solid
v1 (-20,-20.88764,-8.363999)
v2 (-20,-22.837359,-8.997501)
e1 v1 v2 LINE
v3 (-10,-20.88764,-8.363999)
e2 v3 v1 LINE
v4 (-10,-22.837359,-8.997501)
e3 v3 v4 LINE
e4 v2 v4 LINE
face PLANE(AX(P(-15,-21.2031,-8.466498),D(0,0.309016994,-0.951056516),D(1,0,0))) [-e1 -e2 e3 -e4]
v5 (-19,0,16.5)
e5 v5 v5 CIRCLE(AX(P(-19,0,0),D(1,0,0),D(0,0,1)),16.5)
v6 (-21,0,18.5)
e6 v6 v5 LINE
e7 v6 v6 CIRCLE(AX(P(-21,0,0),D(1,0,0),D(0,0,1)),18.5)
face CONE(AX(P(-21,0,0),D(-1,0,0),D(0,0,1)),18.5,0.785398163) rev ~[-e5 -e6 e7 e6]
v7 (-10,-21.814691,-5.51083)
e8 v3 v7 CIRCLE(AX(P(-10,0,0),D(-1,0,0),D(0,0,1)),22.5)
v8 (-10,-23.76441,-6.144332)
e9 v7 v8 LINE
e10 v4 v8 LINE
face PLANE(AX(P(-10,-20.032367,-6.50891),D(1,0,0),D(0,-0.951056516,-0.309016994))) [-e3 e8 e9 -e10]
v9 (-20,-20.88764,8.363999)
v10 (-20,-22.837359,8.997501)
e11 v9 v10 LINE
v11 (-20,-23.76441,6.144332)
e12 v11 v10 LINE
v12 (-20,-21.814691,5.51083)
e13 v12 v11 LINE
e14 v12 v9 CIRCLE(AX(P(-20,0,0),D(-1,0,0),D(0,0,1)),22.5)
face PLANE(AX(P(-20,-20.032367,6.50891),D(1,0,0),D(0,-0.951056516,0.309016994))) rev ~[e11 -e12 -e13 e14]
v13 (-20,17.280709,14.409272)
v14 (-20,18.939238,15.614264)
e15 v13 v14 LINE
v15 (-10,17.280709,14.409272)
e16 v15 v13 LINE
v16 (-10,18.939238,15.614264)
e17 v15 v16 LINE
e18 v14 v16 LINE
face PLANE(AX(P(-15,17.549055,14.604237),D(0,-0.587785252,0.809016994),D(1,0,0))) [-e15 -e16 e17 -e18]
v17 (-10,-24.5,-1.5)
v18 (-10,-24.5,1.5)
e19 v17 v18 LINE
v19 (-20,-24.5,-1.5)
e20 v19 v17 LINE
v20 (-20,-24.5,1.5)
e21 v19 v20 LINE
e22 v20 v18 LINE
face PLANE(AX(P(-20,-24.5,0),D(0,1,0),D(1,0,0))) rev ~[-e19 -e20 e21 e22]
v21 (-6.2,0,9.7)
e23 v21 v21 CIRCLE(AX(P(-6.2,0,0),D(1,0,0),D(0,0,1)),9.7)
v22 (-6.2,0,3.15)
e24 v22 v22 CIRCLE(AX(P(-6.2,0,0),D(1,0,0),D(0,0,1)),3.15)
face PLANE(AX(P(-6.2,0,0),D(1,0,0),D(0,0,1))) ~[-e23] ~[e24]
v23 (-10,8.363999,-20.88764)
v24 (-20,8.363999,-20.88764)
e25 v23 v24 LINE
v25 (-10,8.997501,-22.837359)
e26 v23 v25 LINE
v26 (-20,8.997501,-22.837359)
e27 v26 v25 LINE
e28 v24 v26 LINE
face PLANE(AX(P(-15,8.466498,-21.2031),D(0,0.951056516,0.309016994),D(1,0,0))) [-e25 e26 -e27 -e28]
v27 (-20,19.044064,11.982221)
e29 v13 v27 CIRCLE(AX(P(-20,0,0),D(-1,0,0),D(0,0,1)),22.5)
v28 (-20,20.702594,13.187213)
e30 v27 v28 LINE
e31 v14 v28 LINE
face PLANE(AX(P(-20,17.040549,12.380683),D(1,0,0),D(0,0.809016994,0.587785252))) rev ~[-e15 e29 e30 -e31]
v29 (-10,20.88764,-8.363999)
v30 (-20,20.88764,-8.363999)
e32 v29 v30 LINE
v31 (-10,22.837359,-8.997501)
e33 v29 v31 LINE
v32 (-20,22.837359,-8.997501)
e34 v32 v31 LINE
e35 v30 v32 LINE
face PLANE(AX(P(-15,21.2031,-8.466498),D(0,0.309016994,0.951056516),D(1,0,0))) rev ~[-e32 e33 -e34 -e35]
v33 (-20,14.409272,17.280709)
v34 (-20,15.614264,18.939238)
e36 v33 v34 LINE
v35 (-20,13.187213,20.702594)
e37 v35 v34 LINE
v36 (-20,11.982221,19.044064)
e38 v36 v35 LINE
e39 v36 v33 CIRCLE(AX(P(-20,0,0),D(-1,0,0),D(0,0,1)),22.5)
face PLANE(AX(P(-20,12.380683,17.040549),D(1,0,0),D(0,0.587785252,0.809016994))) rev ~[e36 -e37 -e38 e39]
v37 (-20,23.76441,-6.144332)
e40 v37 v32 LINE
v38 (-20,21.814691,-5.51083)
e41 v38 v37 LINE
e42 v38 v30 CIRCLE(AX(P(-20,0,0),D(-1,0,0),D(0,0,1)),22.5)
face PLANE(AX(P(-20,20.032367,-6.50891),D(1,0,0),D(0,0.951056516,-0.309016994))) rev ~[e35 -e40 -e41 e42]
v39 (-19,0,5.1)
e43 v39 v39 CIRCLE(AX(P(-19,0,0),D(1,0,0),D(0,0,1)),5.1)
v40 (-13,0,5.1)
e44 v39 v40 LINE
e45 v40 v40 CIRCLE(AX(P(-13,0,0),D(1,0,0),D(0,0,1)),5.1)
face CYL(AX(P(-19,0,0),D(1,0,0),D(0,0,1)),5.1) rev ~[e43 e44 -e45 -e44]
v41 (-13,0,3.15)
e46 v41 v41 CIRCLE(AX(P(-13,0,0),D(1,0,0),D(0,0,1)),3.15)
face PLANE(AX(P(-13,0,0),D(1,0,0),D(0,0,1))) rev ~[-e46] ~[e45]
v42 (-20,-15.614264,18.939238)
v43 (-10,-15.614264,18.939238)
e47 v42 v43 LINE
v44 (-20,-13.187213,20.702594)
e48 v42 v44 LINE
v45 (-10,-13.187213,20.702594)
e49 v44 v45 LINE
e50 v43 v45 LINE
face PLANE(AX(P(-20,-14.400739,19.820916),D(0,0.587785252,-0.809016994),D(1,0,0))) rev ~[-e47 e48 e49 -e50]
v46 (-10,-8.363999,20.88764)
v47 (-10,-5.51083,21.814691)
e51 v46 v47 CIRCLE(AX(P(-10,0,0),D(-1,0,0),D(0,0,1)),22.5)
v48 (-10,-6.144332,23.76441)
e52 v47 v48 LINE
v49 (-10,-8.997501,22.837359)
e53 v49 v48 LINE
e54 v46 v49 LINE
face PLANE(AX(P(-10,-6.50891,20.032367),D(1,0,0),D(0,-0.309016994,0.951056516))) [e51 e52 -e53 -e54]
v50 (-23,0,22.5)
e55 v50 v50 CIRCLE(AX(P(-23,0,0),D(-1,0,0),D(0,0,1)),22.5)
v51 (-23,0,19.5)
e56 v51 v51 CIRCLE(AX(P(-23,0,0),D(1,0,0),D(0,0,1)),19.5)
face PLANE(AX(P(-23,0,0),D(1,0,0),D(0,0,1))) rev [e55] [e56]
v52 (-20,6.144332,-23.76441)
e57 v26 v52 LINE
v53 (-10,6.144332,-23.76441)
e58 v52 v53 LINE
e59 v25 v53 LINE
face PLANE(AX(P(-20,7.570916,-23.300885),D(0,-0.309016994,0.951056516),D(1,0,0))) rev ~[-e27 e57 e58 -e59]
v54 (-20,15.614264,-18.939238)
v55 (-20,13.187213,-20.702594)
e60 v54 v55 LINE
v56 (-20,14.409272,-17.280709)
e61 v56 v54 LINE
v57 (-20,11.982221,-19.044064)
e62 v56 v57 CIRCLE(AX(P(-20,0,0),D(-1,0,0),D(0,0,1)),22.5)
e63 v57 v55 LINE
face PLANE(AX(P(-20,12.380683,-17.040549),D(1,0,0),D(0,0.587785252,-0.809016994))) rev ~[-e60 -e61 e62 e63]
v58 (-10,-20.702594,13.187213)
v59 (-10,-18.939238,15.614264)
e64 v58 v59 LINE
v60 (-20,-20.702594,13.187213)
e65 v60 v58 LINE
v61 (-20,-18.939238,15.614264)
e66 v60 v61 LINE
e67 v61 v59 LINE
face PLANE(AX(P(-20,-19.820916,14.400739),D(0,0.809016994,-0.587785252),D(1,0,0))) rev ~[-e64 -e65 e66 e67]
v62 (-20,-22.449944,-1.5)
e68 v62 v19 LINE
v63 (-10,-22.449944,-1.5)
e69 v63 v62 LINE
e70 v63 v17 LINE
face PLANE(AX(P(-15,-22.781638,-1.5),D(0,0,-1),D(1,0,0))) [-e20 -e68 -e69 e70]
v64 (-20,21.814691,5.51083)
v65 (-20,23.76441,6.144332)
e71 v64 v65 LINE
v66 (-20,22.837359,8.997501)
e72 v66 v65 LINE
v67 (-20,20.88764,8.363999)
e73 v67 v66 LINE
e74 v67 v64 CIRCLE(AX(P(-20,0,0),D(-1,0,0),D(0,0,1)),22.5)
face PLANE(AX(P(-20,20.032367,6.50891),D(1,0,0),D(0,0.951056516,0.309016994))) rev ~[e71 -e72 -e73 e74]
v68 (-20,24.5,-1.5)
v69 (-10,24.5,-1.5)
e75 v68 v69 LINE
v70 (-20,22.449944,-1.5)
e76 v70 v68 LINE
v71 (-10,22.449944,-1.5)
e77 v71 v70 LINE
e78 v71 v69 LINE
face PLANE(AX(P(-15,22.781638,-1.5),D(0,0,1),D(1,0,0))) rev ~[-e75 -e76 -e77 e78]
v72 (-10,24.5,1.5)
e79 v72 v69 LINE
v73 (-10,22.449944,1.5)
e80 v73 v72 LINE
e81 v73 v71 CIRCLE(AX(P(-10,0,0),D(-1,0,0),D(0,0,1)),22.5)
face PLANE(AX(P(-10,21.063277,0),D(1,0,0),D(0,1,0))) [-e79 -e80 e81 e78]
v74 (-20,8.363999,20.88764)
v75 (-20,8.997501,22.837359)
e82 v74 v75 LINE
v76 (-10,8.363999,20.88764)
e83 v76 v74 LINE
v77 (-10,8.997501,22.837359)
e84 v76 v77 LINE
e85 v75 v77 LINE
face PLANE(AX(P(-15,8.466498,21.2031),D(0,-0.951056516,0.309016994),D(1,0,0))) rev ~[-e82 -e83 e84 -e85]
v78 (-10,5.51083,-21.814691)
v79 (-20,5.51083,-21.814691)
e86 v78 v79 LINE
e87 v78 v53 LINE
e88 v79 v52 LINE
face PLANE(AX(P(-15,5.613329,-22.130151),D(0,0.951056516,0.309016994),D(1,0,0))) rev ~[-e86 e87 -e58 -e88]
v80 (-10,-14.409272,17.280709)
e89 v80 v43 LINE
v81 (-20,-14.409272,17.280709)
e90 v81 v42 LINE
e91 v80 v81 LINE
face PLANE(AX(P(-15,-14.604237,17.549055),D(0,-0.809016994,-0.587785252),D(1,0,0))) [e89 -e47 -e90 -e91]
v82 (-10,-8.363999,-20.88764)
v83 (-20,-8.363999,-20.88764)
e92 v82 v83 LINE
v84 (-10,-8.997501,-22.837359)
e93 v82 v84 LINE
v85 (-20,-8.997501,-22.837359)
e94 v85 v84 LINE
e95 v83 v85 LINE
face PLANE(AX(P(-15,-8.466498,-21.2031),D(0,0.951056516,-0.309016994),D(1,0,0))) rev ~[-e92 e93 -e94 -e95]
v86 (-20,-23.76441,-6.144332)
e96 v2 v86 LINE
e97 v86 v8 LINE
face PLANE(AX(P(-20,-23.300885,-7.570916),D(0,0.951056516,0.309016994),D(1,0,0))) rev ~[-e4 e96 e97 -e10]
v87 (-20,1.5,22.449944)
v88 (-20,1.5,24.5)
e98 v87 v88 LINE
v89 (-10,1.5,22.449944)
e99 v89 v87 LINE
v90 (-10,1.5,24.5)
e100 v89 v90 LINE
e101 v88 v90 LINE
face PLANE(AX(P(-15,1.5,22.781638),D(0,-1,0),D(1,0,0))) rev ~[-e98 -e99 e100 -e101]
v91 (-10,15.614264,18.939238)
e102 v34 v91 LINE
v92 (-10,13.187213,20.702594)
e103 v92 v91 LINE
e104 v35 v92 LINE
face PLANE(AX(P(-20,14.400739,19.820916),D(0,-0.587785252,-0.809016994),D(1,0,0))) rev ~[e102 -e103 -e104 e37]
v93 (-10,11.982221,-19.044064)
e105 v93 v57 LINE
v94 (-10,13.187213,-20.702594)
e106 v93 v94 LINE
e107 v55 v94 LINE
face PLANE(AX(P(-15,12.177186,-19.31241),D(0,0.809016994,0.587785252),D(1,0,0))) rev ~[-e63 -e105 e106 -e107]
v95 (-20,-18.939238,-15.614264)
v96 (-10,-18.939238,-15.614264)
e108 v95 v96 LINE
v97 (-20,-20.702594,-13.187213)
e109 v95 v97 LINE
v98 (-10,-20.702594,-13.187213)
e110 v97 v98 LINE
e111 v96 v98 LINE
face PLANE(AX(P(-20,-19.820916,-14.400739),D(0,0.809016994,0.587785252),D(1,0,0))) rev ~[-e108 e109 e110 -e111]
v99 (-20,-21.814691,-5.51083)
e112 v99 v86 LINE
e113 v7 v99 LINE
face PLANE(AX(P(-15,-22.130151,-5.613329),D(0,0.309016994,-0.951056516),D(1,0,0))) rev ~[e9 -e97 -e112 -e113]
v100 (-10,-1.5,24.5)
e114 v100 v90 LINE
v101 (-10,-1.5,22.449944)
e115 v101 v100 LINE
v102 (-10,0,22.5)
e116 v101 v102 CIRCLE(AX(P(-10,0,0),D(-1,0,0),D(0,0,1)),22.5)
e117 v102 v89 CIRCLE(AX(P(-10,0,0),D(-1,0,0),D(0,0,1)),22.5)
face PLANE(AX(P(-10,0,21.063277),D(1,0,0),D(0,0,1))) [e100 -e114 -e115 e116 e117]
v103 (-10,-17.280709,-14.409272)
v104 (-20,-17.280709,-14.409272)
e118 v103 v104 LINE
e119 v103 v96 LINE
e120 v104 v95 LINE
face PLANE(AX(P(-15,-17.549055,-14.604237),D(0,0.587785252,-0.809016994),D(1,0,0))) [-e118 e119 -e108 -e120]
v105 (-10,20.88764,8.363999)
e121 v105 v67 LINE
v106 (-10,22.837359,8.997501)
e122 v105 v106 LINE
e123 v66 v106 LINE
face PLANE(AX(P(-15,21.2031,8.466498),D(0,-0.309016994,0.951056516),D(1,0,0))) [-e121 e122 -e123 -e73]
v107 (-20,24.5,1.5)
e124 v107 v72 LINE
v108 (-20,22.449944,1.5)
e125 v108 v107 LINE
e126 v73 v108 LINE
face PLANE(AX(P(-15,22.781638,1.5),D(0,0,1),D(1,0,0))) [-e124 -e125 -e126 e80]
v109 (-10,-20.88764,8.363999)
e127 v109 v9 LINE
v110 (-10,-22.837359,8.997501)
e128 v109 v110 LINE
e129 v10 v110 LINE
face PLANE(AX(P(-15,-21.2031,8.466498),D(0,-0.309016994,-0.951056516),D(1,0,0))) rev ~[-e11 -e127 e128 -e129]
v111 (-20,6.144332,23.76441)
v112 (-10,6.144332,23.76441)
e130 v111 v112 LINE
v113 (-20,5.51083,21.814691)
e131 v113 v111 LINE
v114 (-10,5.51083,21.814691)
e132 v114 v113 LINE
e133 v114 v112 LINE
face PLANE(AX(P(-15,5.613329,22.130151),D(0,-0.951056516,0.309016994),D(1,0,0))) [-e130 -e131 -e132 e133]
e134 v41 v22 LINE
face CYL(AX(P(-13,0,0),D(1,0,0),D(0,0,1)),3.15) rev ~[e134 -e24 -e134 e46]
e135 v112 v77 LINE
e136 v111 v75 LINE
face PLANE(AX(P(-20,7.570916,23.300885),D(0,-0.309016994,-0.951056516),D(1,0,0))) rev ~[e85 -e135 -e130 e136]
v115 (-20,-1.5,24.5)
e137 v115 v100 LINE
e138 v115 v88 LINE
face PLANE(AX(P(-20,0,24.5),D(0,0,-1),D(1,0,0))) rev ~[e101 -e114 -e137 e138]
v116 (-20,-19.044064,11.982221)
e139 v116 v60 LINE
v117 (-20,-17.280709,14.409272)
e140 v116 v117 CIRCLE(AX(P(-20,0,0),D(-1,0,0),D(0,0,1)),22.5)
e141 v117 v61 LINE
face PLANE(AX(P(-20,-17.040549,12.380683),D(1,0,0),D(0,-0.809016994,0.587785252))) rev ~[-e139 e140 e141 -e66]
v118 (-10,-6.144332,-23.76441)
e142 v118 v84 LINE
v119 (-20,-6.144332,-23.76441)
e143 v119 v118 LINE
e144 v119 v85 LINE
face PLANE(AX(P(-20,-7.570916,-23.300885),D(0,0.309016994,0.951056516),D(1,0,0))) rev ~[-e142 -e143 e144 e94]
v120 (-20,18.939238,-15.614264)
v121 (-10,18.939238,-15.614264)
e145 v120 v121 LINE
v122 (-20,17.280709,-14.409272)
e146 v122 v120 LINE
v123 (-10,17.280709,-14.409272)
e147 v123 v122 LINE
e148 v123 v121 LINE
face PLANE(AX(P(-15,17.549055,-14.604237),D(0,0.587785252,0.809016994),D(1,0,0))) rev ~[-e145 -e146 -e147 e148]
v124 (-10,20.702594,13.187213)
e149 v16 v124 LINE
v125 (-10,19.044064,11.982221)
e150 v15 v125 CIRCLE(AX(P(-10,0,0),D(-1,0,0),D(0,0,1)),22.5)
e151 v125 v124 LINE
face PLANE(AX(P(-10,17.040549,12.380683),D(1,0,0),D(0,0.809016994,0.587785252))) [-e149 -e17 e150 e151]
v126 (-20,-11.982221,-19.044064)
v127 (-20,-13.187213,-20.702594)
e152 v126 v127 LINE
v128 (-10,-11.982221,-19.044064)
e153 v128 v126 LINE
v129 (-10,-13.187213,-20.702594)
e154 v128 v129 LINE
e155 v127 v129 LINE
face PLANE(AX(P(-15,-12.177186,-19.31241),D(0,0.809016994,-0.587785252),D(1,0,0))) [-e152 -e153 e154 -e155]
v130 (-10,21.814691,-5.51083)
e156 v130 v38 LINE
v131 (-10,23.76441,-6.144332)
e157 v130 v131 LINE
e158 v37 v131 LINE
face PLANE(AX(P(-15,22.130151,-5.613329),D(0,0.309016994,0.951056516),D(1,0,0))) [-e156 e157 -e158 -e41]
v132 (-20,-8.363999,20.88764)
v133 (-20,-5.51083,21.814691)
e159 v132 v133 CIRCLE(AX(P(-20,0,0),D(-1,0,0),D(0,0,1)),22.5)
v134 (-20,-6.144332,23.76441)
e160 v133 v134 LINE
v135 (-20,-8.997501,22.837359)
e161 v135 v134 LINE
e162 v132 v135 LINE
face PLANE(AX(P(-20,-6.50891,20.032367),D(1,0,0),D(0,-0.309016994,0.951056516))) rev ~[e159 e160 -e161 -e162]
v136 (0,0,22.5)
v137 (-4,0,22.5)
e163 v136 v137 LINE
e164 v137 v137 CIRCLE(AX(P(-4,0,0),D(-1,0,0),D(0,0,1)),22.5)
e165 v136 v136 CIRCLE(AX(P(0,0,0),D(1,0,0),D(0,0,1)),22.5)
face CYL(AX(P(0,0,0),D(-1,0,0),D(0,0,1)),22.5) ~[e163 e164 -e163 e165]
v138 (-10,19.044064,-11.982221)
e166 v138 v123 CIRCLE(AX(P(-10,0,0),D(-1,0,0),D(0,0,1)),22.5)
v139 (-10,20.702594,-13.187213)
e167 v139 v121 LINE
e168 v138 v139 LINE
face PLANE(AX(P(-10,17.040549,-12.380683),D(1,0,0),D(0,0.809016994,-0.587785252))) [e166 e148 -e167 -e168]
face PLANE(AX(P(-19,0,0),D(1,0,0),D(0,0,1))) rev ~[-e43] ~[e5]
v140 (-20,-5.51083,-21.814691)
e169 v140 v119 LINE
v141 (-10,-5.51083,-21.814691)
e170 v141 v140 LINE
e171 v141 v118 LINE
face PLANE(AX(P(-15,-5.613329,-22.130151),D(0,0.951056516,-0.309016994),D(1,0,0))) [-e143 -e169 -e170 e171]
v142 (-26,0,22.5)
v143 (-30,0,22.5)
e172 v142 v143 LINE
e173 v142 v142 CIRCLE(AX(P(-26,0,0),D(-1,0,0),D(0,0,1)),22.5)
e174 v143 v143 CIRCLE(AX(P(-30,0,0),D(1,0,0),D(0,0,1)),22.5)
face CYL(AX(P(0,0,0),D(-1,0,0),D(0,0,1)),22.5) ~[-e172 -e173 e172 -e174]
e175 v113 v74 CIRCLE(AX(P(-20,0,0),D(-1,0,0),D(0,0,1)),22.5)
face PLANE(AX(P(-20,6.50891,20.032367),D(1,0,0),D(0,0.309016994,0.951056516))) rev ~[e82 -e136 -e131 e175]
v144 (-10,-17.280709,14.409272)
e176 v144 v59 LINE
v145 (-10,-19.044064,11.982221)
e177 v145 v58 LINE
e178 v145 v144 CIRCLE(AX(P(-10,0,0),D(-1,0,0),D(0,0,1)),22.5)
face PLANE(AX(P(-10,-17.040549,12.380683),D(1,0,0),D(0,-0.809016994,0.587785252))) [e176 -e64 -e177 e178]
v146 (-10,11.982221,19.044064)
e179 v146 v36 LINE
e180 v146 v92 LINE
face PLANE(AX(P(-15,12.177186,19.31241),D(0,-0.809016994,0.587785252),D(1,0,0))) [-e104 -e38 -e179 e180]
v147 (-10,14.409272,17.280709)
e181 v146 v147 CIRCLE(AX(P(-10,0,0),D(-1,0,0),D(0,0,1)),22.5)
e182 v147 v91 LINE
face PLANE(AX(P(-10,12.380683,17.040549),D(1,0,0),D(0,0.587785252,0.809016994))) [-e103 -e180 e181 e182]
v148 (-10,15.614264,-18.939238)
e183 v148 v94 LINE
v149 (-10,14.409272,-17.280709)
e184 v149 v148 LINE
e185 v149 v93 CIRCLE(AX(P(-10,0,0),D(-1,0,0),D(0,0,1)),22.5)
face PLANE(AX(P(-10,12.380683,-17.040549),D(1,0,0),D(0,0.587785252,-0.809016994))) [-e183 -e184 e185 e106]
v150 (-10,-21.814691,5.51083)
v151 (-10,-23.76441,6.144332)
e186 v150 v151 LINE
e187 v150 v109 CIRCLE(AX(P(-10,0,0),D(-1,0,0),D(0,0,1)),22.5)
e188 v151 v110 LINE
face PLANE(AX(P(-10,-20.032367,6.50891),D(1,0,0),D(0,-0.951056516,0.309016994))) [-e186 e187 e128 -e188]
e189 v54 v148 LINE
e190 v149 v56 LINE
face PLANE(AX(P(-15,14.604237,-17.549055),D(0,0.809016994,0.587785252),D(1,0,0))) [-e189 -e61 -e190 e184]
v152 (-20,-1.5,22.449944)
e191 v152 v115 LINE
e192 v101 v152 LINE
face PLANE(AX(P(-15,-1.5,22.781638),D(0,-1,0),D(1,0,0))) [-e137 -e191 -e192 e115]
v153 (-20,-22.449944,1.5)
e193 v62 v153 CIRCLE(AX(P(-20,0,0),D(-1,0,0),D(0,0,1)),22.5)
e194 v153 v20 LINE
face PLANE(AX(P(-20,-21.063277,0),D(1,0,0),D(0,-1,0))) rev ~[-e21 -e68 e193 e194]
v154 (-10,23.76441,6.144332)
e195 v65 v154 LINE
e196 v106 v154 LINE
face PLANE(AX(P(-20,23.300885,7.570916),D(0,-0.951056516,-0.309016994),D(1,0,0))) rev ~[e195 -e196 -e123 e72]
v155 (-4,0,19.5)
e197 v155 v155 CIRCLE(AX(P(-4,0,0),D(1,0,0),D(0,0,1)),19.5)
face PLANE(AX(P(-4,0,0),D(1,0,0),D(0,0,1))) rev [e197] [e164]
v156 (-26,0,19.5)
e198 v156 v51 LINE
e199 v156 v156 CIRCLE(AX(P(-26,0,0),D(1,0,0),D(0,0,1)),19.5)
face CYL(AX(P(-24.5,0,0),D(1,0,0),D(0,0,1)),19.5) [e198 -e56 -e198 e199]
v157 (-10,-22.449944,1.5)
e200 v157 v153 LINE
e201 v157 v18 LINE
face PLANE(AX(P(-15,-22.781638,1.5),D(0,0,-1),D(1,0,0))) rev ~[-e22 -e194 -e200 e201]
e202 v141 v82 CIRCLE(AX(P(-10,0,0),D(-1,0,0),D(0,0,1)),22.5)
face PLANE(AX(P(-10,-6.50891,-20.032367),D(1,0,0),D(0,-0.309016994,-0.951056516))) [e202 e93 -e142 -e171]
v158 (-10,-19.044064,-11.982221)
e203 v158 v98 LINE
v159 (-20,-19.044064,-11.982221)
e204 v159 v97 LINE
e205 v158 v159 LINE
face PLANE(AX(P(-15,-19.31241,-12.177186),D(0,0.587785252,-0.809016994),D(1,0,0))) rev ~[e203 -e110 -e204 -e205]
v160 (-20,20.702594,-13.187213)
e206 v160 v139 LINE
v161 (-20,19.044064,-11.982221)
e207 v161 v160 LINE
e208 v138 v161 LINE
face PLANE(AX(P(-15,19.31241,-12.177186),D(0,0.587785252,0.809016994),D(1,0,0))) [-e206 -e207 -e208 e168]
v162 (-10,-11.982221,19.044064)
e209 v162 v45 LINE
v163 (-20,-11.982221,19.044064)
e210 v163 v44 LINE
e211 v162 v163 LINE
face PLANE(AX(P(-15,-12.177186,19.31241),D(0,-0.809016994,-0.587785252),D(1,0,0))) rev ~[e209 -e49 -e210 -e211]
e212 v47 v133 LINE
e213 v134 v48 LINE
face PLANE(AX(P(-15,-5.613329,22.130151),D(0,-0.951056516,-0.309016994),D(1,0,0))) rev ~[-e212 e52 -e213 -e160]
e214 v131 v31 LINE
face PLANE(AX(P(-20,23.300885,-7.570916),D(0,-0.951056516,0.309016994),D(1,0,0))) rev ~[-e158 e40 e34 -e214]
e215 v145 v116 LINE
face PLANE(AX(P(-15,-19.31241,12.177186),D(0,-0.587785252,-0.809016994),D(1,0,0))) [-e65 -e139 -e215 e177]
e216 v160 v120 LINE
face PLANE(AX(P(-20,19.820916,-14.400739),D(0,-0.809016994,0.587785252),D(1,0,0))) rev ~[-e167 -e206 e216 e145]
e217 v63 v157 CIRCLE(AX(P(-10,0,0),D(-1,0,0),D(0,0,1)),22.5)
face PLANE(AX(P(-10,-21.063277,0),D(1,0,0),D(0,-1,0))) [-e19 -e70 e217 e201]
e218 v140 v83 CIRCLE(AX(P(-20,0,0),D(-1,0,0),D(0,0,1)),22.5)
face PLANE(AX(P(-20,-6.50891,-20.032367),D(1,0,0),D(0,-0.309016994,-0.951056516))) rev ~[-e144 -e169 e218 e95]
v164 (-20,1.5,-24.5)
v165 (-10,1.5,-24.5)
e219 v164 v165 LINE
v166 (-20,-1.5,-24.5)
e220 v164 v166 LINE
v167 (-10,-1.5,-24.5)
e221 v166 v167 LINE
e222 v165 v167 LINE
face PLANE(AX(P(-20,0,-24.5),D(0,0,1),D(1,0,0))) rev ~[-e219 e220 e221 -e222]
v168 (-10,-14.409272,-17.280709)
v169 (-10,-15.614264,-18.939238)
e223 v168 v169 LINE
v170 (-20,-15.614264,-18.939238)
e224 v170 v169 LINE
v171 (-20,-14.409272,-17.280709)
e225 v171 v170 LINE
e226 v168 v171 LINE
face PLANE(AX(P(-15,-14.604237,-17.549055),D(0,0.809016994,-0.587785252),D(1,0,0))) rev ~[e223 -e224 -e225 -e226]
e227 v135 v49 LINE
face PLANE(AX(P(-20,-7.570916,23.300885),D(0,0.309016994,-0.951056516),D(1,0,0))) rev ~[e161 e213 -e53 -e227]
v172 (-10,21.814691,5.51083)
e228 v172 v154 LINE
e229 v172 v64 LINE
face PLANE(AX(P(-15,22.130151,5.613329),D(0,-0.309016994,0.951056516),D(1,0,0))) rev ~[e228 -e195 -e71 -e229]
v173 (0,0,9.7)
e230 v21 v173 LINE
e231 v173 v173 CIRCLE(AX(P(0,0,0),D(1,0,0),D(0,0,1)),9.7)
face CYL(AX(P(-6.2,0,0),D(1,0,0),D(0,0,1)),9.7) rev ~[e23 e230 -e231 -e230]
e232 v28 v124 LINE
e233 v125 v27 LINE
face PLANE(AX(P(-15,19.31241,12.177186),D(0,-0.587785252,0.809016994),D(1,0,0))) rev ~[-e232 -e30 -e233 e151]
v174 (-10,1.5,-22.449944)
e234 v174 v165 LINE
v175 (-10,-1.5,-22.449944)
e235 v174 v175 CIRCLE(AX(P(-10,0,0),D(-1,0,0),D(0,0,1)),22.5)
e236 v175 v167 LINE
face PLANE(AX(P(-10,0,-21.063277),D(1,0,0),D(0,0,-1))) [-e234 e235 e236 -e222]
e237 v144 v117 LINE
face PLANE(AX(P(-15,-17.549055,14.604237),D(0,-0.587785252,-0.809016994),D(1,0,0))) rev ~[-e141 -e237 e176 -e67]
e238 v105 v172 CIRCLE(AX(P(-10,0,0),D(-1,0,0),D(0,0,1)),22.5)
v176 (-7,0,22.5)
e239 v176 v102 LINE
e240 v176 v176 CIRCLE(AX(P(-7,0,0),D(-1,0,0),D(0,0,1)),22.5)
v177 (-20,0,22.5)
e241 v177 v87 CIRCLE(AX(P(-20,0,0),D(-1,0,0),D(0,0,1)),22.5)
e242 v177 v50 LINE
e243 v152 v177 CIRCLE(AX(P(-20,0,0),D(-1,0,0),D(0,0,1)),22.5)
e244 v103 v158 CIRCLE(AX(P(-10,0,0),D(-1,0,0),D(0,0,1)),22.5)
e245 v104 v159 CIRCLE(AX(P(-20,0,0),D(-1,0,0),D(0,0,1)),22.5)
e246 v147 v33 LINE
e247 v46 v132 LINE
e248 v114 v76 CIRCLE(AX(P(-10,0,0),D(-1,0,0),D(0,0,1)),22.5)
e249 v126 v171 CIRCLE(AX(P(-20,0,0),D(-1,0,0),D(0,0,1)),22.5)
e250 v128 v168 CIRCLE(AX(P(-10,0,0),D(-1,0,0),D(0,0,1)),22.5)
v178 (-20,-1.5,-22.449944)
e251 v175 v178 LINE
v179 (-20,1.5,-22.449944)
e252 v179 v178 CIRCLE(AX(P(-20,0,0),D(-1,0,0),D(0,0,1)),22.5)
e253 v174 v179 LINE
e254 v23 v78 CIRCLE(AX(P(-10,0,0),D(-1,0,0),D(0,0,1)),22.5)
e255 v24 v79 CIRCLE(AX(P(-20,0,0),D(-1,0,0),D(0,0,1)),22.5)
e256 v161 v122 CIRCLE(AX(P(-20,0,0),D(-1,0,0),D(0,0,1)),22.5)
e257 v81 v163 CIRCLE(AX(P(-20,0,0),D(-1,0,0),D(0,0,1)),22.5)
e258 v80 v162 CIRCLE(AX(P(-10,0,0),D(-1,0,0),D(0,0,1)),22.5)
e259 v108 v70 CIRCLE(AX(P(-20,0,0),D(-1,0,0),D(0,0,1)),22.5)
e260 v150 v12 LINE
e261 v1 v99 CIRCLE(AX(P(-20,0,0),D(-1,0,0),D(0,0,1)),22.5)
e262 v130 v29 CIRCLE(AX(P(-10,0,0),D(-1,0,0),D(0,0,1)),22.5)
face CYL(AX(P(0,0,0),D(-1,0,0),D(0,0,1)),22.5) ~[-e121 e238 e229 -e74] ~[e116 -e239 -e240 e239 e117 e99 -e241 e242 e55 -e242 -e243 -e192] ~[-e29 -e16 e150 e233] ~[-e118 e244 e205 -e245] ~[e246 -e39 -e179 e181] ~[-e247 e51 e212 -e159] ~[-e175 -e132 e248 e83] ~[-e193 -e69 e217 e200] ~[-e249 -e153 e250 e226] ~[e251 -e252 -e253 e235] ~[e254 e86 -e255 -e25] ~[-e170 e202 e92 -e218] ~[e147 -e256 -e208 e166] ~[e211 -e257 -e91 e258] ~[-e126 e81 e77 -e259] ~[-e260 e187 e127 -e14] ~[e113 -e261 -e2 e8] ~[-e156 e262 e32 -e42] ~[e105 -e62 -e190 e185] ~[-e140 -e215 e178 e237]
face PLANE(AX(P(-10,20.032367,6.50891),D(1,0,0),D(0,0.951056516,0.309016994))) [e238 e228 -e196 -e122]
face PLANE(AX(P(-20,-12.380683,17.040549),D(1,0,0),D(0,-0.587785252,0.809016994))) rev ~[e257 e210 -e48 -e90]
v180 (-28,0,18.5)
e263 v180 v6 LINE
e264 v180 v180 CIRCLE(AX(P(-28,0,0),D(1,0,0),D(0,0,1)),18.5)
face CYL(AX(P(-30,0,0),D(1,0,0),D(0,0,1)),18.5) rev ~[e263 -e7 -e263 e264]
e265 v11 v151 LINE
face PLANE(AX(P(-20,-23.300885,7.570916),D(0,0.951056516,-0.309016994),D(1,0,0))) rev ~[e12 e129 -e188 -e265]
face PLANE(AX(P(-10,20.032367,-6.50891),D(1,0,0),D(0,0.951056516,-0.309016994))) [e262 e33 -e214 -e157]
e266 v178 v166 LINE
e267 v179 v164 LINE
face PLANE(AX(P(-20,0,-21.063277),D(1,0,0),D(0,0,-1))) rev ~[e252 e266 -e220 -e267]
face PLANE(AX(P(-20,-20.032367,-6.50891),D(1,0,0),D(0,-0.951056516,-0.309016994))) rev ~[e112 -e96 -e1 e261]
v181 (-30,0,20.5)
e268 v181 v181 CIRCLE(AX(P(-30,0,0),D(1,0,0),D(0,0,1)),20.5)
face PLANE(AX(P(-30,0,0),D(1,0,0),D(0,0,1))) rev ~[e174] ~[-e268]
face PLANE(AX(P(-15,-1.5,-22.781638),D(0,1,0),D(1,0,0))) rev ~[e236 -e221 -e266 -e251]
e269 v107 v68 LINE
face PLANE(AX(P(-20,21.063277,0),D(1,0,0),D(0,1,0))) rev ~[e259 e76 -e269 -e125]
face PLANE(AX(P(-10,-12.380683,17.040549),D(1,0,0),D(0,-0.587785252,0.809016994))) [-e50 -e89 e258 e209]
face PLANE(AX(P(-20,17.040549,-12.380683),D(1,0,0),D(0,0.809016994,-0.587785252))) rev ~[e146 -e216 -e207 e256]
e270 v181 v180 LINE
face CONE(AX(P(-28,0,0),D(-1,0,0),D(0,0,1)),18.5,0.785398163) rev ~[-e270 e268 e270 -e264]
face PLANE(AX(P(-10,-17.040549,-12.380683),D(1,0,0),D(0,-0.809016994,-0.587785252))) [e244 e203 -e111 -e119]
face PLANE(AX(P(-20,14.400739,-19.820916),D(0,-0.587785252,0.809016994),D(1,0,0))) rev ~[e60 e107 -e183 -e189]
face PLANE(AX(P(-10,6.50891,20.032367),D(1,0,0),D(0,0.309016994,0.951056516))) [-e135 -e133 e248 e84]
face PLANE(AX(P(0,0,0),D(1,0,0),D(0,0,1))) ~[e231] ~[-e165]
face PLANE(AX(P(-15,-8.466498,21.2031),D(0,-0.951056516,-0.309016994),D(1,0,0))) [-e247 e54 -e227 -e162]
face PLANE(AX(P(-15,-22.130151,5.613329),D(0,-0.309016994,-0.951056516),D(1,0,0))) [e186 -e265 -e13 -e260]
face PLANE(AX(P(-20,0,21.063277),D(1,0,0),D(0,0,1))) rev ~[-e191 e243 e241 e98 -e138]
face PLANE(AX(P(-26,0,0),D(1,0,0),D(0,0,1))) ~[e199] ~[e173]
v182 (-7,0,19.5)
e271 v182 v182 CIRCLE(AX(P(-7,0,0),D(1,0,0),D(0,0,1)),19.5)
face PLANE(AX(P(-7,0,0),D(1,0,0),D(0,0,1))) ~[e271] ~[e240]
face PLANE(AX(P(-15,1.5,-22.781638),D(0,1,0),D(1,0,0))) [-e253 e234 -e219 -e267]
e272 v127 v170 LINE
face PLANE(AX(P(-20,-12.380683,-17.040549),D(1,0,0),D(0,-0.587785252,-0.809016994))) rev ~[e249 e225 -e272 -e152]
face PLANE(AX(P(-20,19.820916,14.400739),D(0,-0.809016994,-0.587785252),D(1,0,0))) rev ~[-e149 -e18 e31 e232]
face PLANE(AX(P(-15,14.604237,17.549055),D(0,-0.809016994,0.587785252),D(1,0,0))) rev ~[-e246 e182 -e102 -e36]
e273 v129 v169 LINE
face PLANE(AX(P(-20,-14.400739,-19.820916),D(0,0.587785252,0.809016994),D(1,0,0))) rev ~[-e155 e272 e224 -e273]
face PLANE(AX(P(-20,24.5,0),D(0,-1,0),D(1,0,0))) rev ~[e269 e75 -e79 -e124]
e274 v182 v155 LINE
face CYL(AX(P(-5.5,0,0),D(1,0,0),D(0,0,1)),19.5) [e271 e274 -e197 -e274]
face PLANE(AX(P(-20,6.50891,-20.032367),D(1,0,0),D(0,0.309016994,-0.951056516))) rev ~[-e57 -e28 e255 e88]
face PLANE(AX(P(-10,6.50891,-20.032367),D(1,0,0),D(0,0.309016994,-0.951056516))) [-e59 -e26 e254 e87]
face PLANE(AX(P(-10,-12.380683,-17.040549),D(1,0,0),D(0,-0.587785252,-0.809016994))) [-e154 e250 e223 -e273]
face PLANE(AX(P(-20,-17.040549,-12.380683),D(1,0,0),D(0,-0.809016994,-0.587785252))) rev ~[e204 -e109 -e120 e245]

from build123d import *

# Parameters (mm, degrees)
CHAMFER_2_SIZE           = 2
SKETCH_6_W               = 3
SKETCH_6_H               = 4
SKETCH_7_W               = 10
SKETCH_7_H               = 3.436723268
EXTRUDE_1_DEPTH          = 1.5
PATTERN_CIRCULAR_1_COUNT = 20


with BuildPart() as part:
    # Эскиз4 → Повернуть1 (revolve)
    with BuildSketch(Plane.XY, mode=Mode.PRIVATE) as revolve_1_sk:
        Polygon((0, 22.5), (-30, 22.5), (-30, 18.5), (-19, 18.5), (-19, 5.1), (-13, 5.1), (-13, 3.15), (-6.2, 3.15), (-6.2, 9.7), (0, 9.7), align=None)
    revolve(revolve_1_sk.sketch.rotate(Axis((-30, 0, 0), (1, 0, 0)), 90), axis=Axis((-30, 0, 0), (1, 0, 0)))

    # Фаска2
    chamfer_2_edges = [part.edges().sort_by_distance(p)[0] for p in [
        (-19, 0, -18.5),
        (-30, 0, -18.5),
    ]]
    chamfer(chamfer_2_edges, length=CHAMFER_2_SIZE)

    # Эскиз6 → Вырез-Повернуть2 (revolve, cut)
    with BuildSketch(Plane.XY, mode=Mode.PRIVATE) as cut_revolve_2_sk:
        with Locations((-24.5, 21.5)):
            Rectangle(SKETCH_6_W, SKETCH_6_H)
        with Locations((-5.5, 21.5)):
            Rectangle(SKETCH_6_W, SKETCH_6_H)
    revolve(cut_revolve_2_sk.sketch.rotate(Axis((-30, 0, 0), (1, 0, 0)), 90), axis=Axis((-30, 0, 0), (1, 0, 0)), mode=Mode.SUBTRACT)

    # Эскиз7 → Бобышка-Вытянуть1 (add, symmetric)
    with BuildSketch(Plane.XY):
        with Locations((-15, 22.781638366)):
            Rectangle(SKETCH_7_W, SKETCH_7_H)
    extrude_1 = extrude(amount=EXTRUDE_1_DEPTH, both=True)

    # Круговой массив1: Бобышка-Вытянуть1 ×20 about axis
    pattern_circular_1_axis = Axis((0, 0, 0), (1, 0, 0))
    for i in range(1, PATTERN_CIRCULAR_1_COUNT):
        add(extrude_1.rotate(pattern_circular_1_axis, i * 360 / PATTERN_CIRCULAR_1_COUNT))


solid = part.part
